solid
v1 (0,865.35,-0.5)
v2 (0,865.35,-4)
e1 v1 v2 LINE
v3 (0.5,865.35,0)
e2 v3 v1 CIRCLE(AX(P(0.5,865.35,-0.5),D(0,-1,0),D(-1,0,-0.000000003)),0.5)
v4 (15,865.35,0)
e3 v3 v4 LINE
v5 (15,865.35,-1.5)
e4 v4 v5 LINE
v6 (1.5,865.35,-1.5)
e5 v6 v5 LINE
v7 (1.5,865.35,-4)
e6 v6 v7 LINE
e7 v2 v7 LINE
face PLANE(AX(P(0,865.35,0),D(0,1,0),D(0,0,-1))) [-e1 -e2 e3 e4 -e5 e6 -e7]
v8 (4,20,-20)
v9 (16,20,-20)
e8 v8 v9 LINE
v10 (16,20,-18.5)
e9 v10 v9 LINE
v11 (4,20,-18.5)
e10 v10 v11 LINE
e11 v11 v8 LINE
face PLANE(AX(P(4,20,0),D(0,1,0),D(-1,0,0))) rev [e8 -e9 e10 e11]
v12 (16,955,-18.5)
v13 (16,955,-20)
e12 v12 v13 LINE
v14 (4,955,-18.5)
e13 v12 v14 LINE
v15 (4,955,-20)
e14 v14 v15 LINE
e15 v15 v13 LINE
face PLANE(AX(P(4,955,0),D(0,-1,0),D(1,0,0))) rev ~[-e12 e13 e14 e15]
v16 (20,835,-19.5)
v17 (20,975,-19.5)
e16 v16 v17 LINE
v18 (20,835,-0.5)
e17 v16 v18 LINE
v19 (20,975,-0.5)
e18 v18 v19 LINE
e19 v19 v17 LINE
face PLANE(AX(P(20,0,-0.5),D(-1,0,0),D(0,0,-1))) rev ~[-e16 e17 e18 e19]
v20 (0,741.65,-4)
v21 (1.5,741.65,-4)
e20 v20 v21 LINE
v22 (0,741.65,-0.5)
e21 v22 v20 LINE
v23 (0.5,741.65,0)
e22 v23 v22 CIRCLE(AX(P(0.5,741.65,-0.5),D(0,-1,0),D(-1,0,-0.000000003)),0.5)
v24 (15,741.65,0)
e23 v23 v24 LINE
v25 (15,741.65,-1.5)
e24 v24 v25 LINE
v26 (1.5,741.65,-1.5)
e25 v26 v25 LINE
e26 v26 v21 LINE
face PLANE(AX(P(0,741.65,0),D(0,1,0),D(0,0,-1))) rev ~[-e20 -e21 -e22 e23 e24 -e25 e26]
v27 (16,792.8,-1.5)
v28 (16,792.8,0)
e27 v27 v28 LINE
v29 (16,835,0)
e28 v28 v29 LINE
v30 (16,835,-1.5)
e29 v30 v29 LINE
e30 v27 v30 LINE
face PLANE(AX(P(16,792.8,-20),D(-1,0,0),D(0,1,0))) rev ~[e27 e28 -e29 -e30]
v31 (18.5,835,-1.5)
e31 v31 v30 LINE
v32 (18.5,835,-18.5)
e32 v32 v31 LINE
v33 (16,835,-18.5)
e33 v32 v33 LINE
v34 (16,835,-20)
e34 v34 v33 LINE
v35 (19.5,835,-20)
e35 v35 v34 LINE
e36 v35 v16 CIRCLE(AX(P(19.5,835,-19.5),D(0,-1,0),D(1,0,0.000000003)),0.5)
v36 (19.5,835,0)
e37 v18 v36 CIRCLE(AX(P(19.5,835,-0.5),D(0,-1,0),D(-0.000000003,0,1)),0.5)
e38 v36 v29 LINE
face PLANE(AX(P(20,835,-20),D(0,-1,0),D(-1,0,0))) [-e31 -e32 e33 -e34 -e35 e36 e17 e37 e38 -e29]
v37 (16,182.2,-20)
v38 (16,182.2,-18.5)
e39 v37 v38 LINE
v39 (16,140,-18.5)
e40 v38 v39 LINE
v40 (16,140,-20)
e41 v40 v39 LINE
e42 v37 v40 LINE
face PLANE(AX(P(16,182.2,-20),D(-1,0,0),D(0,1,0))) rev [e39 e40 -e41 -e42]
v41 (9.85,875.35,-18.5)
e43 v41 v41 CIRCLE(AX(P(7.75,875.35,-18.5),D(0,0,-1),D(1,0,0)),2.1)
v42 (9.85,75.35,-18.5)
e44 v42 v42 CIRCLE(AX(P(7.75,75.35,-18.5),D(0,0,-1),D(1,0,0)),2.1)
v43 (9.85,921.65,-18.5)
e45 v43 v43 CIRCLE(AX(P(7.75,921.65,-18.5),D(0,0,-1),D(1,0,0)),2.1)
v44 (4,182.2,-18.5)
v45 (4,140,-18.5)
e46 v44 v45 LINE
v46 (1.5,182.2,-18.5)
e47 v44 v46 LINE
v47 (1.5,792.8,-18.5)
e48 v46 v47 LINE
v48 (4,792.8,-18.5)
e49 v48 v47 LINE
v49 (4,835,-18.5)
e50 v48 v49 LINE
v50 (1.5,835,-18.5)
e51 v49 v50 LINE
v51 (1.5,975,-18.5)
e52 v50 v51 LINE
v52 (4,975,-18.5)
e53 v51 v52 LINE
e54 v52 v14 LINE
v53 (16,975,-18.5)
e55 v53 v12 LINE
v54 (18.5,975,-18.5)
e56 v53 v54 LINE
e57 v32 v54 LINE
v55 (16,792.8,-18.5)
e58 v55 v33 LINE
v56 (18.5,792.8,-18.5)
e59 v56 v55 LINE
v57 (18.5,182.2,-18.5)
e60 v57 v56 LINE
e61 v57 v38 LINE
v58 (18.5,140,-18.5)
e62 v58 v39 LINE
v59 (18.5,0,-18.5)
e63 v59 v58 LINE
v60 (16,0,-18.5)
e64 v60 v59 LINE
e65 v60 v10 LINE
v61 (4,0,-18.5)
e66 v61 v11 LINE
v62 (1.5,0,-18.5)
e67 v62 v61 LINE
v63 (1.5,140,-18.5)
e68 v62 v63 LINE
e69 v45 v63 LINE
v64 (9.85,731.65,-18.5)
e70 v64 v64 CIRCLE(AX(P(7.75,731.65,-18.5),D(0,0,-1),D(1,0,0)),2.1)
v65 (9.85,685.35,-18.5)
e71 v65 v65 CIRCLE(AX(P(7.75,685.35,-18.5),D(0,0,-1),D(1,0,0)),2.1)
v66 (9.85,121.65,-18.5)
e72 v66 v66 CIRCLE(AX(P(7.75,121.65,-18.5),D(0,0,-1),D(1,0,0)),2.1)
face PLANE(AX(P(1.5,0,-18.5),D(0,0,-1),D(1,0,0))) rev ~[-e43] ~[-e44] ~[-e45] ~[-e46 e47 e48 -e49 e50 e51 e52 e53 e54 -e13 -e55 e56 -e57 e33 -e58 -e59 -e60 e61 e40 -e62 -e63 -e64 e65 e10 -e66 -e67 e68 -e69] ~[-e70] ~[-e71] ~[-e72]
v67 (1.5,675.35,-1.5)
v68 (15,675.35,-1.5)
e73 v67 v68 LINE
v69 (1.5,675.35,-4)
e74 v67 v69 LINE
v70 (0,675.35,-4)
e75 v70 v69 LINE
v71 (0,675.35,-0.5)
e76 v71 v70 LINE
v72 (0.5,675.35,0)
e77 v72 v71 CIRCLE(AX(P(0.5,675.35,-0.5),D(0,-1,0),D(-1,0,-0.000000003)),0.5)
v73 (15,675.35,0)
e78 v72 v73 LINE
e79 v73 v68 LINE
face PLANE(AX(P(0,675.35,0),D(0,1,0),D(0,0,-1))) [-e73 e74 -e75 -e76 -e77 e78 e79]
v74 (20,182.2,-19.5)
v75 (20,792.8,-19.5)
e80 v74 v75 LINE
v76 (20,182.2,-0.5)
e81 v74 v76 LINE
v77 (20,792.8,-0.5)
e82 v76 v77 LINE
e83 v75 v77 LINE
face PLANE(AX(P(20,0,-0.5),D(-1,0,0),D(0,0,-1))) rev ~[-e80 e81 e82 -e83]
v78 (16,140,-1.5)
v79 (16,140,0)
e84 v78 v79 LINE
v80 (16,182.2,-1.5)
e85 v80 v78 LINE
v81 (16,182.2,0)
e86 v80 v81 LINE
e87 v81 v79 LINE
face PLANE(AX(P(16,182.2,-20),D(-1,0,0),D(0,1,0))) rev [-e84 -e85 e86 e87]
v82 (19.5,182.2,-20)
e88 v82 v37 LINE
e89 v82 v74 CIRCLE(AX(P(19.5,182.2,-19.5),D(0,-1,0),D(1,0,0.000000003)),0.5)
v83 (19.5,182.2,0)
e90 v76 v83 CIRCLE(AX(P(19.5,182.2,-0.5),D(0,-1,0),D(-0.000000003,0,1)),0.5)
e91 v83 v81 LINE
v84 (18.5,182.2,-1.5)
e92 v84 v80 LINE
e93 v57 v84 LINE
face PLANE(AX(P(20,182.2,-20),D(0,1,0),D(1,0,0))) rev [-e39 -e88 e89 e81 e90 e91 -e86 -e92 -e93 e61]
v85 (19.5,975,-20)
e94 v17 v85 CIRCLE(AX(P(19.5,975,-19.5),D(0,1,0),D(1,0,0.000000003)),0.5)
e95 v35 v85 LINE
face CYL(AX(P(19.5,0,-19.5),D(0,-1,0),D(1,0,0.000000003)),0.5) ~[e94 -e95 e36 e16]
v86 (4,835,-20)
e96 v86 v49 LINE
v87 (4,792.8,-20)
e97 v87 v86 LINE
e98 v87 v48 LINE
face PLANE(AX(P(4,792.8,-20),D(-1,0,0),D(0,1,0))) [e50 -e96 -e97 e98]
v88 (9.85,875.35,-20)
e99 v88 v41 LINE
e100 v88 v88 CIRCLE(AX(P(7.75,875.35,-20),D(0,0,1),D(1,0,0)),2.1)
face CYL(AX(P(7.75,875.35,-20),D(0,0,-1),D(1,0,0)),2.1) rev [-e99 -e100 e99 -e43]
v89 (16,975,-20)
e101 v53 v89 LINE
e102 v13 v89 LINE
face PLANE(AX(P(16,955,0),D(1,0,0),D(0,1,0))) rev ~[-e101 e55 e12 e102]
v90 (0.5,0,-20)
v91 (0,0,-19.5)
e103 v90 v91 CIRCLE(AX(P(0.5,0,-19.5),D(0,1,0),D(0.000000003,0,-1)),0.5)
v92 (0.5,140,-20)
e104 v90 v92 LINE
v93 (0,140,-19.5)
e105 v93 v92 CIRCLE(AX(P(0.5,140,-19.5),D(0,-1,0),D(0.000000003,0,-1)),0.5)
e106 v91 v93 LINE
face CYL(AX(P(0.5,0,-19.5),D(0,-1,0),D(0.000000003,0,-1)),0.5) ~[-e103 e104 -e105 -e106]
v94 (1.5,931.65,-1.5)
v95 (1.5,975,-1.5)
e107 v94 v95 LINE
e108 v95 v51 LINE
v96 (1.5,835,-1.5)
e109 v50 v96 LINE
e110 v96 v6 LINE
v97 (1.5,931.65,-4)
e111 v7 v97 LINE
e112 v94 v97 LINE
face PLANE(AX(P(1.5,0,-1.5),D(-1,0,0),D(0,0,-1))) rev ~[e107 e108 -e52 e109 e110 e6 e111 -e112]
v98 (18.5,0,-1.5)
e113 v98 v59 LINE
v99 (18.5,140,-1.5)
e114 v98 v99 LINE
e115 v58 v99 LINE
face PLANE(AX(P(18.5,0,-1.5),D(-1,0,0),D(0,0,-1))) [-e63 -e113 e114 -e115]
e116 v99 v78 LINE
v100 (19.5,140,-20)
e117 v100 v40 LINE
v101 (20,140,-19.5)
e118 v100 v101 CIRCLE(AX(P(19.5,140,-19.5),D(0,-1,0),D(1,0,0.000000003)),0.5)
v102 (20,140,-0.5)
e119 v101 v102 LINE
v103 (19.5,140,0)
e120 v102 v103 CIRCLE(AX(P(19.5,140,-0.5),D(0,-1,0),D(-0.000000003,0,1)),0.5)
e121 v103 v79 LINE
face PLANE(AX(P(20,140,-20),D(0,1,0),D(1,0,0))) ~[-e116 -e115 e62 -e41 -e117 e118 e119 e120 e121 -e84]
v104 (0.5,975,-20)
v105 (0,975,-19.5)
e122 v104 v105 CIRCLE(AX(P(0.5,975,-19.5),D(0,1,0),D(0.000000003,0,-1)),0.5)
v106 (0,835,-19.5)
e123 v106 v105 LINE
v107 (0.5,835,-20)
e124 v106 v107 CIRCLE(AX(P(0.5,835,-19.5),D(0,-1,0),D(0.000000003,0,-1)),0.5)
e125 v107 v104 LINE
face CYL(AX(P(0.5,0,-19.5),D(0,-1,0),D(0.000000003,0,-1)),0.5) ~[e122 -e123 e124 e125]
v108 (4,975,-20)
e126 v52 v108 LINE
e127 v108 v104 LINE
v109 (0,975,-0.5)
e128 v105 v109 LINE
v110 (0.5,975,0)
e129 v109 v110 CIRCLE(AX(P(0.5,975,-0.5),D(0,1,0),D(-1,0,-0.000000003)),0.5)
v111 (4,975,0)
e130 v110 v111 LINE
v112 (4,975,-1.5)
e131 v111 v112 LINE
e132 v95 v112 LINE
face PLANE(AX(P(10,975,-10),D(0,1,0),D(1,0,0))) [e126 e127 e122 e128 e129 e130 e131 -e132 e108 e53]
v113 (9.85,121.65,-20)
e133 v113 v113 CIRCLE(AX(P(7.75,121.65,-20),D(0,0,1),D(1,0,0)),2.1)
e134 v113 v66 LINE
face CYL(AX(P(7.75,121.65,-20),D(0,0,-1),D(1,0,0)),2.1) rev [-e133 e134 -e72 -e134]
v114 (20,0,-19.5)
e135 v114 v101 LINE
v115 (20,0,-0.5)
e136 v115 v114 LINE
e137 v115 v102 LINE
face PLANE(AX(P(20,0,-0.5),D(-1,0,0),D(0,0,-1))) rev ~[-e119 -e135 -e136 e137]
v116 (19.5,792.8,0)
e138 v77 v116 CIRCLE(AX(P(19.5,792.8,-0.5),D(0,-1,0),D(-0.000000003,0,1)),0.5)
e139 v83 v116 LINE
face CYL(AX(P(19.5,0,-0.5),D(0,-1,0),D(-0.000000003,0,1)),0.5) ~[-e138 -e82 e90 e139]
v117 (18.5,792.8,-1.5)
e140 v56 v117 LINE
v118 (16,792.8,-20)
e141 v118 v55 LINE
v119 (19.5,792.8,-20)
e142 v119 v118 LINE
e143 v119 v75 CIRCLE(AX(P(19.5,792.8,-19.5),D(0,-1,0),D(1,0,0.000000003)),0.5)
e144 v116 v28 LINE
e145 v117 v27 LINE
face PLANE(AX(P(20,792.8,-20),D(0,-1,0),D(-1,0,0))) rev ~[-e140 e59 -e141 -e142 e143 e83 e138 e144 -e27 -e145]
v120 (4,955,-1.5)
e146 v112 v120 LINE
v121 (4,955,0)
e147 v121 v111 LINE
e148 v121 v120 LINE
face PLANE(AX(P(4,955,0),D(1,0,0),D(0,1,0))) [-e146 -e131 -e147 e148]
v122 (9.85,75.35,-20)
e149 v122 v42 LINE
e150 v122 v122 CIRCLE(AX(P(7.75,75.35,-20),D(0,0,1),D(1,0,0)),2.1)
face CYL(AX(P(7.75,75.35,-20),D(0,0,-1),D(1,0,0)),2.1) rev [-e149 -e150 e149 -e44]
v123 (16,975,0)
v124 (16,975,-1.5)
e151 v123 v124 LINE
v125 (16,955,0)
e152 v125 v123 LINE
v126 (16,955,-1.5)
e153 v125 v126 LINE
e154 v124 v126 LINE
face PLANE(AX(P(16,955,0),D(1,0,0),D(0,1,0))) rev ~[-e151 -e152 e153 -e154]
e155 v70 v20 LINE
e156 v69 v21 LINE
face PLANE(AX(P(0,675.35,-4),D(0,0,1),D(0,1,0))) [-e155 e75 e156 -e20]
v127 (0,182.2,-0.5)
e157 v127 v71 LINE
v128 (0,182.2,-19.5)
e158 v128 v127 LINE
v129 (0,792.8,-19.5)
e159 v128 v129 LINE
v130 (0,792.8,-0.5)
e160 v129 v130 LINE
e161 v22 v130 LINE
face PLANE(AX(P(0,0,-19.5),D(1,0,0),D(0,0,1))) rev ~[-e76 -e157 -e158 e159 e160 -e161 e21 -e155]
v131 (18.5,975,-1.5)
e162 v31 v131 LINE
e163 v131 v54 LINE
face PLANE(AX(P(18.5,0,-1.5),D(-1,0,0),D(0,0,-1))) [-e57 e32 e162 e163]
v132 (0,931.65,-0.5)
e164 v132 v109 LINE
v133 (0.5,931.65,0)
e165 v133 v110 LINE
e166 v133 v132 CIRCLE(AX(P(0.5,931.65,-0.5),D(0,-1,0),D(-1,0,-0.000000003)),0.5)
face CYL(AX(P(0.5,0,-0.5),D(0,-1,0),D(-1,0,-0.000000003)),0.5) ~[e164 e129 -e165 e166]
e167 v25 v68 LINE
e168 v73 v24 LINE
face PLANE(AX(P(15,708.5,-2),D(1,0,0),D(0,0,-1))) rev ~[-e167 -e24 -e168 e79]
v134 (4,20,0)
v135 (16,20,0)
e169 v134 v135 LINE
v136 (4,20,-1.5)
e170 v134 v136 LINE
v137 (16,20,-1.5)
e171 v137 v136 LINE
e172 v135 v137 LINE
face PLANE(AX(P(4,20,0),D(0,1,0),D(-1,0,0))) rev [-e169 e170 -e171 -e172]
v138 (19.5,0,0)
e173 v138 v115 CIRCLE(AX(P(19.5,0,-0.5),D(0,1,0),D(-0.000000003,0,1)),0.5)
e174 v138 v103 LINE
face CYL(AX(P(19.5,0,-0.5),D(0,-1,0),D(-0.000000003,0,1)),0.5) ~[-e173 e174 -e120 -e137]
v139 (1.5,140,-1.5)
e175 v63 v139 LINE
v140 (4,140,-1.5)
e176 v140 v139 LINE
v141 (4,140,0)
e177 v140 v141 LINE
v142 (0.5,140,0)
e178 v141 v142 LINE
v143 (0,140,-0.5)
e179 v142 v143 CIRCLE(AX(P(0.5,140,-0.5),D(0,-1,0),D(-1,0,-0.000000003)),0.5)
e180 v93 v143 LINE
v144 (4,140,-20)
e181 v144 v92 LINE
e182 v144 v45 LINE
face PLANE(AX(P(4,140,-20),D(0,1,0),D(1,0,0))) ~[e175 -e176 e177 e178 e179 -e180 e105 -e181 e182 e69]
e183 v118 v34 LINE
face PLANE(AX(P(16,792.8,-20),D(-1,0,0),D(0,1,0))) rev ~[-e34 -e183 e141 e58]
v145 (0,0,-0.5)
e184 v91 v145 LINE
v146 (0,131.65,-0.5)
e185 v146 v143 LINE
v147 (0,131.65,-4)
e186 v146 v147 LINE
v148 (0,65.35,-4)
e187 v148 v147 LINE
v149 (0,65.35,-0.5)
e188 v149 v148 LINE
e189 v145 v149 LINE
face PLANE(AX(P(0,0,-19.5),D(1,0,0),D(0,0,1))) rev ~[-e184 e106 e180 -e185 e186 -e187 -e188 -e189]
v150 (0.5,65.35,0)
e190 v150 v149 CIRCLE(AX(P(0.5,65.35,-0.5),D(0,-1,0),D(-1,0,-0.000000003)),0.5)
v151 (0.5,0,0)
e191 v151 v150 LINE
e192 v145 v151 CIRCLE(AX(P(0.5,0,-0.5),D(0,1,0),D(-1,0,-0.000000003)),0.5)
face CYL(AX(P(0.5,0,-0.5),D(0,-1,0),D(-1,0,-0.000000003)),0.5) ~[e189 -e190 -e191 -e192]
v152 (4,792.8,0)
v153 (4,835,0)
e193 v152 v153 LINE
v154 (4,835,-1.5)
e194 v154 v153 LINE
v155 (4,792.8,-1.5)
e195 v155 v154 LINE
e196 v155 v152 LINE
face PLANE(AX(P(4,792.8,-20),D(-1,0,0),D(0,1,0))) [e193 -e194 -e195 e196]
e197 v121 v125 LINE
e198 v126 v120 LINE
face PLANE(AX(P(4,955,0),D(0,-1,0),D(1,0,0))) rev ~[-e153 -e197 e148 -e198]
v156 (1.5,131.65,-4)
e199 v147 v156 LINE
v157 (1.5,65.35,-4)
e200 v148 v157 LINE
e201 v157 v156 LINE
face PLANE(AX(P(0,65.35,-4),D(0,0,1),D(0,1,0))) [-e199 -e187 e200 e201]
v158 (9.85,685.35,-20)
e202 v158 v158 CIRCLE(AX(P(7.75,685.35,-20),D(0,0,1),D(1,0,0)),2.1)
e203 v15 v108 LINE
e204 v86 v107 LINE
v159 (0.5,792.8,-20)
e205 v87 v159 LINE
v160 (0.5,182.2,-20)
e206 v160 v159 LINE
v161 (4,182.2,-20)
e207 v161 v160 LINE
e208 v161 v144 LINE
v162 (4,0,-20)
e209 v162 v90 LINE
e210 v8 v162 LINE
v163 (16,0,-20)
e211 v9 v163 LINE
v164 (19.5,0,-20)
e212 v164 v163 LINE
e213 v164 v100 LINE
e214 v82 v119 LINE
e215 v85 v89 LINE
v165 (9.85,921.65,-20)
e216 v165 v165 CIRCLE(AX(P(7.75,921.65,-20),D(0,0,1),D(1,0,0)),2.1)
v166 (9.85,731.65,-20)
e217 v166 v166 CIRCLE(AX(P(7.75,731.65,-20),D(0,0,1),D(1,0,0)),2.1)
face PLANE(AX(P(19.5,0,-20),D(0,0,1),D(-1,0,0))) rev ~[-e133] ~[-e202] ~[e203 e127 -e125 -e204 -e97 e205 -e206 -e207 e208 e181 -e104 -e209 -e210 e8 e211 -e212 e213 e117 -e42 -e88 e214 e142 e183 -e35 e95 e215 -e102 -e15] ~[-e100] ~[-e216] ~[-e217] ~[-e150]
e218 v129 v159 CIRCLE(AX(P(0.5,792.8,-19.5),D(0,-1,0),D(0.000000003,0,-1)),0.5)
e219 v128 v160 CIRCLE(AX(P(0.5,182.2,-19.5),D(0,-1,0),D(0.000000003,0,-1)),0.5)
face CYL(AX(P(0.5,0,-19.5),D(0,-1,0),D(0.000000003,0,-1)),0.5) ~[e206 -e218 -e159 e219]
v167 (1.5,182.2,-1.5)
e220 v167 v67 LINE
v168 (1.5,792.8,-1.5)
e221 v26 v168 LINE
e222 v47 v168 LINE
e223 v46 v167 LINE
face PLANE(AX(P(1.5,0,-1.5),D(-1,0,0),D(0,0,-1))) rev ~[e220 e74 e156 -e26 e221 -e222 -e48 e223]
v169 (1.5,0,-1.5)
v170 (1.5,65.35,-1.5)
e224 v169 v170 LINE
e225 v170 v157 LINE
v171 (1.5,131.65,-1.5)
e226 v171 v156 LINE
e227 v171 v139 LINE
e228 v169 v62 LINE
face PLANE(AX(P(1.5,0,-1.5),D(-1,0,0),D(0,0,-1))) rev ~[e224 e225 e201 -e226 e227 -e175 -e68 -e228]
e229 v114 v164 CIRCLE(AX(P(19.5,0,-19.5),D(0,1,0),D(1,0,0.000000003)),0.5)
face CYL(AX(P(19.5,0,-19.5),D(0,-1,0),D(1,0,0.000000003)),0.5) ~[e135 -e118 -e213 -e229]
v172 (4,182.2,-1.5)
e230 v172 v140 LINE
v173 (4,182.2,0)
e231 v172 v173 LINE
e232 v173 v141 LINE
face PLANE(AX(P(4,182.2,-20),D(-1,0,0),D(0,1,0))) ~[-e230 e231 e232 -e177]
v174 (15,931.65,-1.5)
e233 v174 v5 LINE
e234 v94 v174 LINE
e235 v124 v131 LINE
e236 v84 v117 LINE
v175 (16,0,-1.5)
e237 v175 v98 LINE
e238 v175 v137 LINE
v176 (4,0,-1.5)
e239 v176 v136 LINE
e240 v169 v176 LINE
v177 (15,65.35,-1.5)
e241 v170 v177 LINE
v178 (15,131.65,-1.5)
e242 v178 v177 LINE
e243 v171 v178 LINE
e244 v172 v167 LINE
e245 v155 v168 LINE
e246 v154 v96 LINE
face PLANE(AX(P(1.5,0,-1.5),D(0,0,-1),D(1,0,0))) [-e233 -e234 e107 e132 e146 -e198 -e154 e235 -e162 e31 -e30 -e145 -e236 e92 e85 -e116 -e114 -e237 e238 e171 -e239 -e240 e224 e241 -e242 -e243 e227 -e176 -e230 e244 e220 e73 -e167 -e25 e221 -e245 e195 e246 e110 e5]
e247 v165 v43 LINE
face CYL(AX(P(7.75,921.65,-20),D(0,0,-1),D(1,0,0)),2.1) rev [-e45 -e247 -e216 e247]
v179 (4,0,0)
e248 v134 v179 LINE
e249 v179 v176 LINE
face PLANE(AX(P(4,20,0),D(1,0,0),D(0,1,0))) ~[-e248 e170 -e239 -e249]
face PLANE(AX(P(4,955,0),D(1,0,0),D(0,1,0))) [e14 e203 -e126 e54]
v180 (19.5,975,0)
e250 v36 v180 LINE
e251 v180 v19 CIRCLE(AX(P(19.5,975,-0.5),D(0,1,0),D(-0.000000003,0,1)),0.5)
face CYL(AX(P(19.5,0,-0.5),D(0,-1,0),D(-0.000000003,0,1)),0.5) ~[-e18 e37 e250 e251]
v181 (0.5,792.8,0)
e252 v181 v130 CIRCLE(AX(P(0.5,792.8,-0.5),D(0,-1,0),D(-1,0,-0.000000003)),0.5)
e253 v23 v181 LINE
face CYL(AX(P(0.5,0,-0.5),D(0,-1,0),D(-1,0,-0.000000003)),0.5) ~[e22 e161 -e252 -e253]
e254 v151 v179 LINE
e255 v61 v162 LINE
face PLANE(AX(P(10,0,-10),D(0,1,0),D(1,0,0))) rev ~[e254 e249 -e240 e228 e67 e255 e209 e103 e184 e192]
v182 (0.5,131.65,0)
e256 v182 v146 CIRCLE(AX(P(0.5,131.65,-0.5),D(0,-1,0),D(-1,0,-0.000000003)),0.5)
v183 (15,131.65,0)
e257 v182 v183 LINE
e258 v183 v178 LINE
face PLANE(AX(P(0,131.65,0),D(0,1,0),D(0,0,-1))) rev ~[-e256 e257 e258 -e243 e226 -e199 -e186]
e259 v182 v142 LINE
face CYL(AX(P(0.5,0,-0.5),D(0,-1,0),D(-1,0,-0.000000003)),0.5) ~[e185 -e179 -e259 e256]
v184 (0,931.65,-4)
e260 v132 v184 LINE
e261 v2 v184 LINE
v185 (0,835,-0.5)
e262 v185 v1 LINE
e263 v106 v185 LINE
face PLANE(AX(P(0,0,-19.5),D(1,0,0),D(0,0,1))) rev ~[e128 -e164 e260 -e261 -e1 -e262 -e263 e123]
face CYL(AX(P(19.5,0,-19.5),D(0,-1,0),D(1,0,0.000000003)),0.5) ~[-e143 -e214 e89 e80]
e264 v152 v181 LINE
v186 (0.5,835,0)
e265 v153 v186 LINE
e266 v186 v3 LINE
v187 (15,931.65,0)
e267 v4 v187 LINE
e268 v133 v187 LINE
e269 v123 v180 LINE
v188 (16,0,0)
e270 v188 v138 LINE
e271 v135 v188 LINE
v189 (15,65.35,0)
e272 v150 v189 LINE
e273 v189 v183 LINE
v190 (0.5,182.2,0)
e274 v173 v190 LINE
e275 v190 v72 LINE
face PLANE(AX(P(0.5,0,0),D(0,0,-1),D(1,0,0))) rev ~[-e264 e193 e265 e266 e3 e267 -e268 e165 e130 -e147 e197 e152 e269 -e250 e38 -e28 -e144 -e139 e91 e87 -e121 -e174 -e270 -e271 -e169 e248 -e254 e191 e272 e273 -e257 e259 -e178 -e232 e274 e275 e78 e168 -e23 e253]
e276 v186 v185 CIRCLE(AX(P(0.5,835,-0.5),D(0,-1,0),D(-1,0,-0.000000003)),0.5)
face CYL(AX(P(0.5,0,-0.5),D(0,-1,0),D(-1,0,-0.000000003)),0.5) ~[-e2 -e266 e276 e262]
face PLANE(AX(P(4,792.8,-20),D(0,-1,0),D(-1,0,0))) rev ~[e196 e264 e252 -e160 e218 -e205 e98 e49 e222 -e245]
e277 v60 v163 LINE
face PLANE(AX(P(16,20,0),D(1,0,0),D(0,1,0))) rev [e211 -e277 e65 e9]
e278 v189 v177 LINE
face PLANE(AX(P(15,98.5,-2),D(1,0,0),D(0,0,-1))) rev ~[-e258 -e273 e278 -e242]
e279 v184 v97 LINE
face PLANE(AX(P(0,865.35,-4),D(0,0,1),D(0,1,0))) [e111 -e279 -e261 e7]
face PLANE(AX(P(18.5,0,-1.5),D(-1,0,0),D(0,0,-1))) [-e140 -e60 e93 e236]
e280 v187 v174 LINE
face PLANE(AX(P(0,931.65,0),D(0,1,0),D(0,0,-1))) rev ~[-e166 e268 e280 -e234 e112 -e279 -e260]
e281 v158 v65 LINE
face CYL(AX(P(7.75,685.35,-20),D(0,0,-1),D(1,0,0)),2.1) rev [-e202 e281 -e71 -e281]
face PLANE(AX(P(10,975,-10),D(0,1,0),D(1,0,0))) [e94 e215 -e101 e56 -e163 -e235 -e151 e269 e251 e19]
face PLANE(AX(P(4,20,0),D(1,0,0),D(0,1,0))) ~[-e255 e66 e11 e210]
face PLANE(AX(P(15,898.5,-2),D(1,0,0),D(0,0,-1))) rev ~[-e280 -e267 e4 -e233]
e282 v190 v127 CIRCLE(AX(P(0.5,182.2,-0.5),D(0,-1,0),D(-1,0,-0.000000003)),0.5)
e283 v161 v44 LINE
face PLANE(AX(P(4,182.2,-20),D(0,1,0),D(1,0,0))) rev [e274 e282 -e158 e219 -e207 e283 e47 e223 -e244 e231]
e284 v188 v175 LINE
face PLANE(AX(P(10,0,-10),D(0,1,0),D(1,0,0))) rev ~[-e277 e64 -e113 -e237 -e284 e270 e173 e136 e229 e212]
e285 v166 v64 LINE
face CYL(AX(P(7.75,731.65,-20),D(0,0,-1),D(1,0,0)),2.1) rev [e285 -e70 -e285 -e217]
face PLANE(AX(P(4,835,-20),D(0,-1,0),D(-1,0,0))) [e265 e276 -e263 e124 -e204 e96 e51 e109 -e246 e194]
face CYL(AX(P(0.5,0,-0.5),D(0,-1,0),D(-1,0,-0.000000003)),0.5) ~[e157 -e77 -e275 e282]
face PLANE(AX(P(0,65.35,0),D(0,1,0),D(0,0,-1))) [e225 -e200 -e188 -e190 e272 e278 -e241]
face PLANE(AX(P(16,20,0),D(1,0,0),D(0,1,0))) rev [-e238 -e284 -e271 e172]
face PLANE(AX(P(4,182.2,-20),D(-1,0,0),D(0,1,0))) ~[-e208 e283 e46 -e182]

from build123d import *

# Parameters (mm, degrees)
SKETCH1_W           = 17
SKETCH1_H           = 17
BOSS_EXTRUDE1_DEPTH = 975
SKETCH2_W           = 12
SKETCH2_H           = 20
CUT_EXTRUDE1_DEPTH  = 1177
SKETCH3_W           = 4
SKETCH3_H           = 42.2
CUT_EXTRUDE2_DEPTH  = 1177
SKETCH4_R           = 2.1
CUT_EXTRUDE3_DEPTH  = 10
CUT_EXTRUDE4_START  = -20
SKETCH6_W           = 4
SKETCH6_H           = 66.3
CUT_EXTRUDE4_DEPTH  = 15
LPATTERN1_COUNT     = 2
LPATTERN1_PITCH     = 190
LPATTERN2_COUNT     = 2
LPATTERN2_PITCH     = 800


with BuildPart() as part:
    # Sketch1 → Boss-Extrude1 (new body)
    with BuildSketch(Plane(origin=(0, 0, 0), x_dir=(1, 0, 0), z_dir=(0, 1, 0))):
        with BuildLine():
            Line((0.5, 0), (19.5, 0))
            ThreePointArc((19.5, 0), (19.853553391, 0.146446609), (20, 0.5))
            Line((20, 0.5), (20, 19.5))
            ThreePointArc((20, 19.5), (19.853553391, 19.853553391), (19.5, 20))
            Line((19.5, 20), (0.5, 20))
            ThreePointArc((0.5, 20), (0.146446609, 19.853553391), (0, 19.5))
            Line((0, 19.5), (0, 0.5))
            ThreePointArc((0, 0.5), (0.146446609, 0.146446609), (0.5, 0))
        make_face()
        with Locations((10, 10)):
            Rectangle(SKETCH1_W, SKETCH1_H, mode=Mode.SUBTRACT)
    extrude(amount=BOSS_EXTRUDE1_DEPTH)

    # Sketch2 → Cut-Extrude1 (cut)
    with BuildSketch(Plane.XY):
        with Locations((10, 965)):
            Rectangle(SKETCH2_W, SKETCH2_H)
    cut_extrude1 = extrude(amount=-CUT_EXTRUDE1_DEPTH, mode=Mode.SUBTRACT)

    # Sketch3 → Cut-Extrude2 (cut)
    with BuildSketch(Plane(origin=(0, 0, -20), x_dir=(-1, 0, 0), z_dir=(0, 0, -1))):
        with Locations((-2, 813.9)):
            Rectangle(SKETCH3_W, SKETCH3_H)
        with Locations((-18, 813.9)):
            Rectangle(SKETCH3_W, SKETCH3_H)
    cut_extrude2 = extrude(amount=-CUT_EXTRUDE2_DEPTH, mode=Mode.SUBTRACT)

    # Mirror1: Cut-Extrude1, Cut-Extrude2 across plane
    add(cut_extrude1.mirror(Plane.ZX.offset(487.5)), mode=Mode.SUBTRACT)
    add(cut_extrude2.mirror(Plane.ZX.offset(487.5)), mode=Mode.SUBTRACT)

    # Sketch4 → Cut-Extrude3 (cut)
    with BuildSketch(Plane.XY.offset(-20)):
        with Locations((7.75, 921.65)):
            Circle(SKETCH4_R)
        with Locations((7.75, 875.35)):
            Circle(SKETCH4_R)
    cut_extrude3 = extrude(amount=CUT_EXTRUDE3_DEPTH, mode=Mode.SUBTRACT)

    # Sketch6 → Cut-Extrude4 (cut)
    with BuildSketch(Plane(origin=(20, 0, 0), x_dir=(0, 0, -1), z_dir=(1, 0, 0)).offset(CUT_EXTRUDE4_START)):
        with Locations((2, 898.5)):
            Rectangle(SKETCH6_W, SKETCH6_H)
    cut_extrude4 = extrude(amount=CUT_EXTRUDE4_DEPTH, mode=Mode.SUBTRACT)

    # LPattern1: Cut-Extrude3, Cut-Extrude4 ×2
    with Locations(*[(0, -i * LPATTERN1_PITCH, 0) for i in range(1, LPATTERN1_COUNT)]):
        add(cut_extrude3, mode=Mode.SUBTRACT)
        add(cut_extrude4, mode=Mode.SUBTRACT)

    # LPattern2: Cut-Extrude3, Cut-Extrude4 ×2
    with Locations(*[(0, -i * LPATTERN2_PITCH, 0) for i in range(1, LPATTERN2_COUNT)]):
        add(cut_extrude3, mode=Mode.SUBTRACT)
        add(cut_extrude4, mode=Mode.SUBTRACT)


solid = part.part
